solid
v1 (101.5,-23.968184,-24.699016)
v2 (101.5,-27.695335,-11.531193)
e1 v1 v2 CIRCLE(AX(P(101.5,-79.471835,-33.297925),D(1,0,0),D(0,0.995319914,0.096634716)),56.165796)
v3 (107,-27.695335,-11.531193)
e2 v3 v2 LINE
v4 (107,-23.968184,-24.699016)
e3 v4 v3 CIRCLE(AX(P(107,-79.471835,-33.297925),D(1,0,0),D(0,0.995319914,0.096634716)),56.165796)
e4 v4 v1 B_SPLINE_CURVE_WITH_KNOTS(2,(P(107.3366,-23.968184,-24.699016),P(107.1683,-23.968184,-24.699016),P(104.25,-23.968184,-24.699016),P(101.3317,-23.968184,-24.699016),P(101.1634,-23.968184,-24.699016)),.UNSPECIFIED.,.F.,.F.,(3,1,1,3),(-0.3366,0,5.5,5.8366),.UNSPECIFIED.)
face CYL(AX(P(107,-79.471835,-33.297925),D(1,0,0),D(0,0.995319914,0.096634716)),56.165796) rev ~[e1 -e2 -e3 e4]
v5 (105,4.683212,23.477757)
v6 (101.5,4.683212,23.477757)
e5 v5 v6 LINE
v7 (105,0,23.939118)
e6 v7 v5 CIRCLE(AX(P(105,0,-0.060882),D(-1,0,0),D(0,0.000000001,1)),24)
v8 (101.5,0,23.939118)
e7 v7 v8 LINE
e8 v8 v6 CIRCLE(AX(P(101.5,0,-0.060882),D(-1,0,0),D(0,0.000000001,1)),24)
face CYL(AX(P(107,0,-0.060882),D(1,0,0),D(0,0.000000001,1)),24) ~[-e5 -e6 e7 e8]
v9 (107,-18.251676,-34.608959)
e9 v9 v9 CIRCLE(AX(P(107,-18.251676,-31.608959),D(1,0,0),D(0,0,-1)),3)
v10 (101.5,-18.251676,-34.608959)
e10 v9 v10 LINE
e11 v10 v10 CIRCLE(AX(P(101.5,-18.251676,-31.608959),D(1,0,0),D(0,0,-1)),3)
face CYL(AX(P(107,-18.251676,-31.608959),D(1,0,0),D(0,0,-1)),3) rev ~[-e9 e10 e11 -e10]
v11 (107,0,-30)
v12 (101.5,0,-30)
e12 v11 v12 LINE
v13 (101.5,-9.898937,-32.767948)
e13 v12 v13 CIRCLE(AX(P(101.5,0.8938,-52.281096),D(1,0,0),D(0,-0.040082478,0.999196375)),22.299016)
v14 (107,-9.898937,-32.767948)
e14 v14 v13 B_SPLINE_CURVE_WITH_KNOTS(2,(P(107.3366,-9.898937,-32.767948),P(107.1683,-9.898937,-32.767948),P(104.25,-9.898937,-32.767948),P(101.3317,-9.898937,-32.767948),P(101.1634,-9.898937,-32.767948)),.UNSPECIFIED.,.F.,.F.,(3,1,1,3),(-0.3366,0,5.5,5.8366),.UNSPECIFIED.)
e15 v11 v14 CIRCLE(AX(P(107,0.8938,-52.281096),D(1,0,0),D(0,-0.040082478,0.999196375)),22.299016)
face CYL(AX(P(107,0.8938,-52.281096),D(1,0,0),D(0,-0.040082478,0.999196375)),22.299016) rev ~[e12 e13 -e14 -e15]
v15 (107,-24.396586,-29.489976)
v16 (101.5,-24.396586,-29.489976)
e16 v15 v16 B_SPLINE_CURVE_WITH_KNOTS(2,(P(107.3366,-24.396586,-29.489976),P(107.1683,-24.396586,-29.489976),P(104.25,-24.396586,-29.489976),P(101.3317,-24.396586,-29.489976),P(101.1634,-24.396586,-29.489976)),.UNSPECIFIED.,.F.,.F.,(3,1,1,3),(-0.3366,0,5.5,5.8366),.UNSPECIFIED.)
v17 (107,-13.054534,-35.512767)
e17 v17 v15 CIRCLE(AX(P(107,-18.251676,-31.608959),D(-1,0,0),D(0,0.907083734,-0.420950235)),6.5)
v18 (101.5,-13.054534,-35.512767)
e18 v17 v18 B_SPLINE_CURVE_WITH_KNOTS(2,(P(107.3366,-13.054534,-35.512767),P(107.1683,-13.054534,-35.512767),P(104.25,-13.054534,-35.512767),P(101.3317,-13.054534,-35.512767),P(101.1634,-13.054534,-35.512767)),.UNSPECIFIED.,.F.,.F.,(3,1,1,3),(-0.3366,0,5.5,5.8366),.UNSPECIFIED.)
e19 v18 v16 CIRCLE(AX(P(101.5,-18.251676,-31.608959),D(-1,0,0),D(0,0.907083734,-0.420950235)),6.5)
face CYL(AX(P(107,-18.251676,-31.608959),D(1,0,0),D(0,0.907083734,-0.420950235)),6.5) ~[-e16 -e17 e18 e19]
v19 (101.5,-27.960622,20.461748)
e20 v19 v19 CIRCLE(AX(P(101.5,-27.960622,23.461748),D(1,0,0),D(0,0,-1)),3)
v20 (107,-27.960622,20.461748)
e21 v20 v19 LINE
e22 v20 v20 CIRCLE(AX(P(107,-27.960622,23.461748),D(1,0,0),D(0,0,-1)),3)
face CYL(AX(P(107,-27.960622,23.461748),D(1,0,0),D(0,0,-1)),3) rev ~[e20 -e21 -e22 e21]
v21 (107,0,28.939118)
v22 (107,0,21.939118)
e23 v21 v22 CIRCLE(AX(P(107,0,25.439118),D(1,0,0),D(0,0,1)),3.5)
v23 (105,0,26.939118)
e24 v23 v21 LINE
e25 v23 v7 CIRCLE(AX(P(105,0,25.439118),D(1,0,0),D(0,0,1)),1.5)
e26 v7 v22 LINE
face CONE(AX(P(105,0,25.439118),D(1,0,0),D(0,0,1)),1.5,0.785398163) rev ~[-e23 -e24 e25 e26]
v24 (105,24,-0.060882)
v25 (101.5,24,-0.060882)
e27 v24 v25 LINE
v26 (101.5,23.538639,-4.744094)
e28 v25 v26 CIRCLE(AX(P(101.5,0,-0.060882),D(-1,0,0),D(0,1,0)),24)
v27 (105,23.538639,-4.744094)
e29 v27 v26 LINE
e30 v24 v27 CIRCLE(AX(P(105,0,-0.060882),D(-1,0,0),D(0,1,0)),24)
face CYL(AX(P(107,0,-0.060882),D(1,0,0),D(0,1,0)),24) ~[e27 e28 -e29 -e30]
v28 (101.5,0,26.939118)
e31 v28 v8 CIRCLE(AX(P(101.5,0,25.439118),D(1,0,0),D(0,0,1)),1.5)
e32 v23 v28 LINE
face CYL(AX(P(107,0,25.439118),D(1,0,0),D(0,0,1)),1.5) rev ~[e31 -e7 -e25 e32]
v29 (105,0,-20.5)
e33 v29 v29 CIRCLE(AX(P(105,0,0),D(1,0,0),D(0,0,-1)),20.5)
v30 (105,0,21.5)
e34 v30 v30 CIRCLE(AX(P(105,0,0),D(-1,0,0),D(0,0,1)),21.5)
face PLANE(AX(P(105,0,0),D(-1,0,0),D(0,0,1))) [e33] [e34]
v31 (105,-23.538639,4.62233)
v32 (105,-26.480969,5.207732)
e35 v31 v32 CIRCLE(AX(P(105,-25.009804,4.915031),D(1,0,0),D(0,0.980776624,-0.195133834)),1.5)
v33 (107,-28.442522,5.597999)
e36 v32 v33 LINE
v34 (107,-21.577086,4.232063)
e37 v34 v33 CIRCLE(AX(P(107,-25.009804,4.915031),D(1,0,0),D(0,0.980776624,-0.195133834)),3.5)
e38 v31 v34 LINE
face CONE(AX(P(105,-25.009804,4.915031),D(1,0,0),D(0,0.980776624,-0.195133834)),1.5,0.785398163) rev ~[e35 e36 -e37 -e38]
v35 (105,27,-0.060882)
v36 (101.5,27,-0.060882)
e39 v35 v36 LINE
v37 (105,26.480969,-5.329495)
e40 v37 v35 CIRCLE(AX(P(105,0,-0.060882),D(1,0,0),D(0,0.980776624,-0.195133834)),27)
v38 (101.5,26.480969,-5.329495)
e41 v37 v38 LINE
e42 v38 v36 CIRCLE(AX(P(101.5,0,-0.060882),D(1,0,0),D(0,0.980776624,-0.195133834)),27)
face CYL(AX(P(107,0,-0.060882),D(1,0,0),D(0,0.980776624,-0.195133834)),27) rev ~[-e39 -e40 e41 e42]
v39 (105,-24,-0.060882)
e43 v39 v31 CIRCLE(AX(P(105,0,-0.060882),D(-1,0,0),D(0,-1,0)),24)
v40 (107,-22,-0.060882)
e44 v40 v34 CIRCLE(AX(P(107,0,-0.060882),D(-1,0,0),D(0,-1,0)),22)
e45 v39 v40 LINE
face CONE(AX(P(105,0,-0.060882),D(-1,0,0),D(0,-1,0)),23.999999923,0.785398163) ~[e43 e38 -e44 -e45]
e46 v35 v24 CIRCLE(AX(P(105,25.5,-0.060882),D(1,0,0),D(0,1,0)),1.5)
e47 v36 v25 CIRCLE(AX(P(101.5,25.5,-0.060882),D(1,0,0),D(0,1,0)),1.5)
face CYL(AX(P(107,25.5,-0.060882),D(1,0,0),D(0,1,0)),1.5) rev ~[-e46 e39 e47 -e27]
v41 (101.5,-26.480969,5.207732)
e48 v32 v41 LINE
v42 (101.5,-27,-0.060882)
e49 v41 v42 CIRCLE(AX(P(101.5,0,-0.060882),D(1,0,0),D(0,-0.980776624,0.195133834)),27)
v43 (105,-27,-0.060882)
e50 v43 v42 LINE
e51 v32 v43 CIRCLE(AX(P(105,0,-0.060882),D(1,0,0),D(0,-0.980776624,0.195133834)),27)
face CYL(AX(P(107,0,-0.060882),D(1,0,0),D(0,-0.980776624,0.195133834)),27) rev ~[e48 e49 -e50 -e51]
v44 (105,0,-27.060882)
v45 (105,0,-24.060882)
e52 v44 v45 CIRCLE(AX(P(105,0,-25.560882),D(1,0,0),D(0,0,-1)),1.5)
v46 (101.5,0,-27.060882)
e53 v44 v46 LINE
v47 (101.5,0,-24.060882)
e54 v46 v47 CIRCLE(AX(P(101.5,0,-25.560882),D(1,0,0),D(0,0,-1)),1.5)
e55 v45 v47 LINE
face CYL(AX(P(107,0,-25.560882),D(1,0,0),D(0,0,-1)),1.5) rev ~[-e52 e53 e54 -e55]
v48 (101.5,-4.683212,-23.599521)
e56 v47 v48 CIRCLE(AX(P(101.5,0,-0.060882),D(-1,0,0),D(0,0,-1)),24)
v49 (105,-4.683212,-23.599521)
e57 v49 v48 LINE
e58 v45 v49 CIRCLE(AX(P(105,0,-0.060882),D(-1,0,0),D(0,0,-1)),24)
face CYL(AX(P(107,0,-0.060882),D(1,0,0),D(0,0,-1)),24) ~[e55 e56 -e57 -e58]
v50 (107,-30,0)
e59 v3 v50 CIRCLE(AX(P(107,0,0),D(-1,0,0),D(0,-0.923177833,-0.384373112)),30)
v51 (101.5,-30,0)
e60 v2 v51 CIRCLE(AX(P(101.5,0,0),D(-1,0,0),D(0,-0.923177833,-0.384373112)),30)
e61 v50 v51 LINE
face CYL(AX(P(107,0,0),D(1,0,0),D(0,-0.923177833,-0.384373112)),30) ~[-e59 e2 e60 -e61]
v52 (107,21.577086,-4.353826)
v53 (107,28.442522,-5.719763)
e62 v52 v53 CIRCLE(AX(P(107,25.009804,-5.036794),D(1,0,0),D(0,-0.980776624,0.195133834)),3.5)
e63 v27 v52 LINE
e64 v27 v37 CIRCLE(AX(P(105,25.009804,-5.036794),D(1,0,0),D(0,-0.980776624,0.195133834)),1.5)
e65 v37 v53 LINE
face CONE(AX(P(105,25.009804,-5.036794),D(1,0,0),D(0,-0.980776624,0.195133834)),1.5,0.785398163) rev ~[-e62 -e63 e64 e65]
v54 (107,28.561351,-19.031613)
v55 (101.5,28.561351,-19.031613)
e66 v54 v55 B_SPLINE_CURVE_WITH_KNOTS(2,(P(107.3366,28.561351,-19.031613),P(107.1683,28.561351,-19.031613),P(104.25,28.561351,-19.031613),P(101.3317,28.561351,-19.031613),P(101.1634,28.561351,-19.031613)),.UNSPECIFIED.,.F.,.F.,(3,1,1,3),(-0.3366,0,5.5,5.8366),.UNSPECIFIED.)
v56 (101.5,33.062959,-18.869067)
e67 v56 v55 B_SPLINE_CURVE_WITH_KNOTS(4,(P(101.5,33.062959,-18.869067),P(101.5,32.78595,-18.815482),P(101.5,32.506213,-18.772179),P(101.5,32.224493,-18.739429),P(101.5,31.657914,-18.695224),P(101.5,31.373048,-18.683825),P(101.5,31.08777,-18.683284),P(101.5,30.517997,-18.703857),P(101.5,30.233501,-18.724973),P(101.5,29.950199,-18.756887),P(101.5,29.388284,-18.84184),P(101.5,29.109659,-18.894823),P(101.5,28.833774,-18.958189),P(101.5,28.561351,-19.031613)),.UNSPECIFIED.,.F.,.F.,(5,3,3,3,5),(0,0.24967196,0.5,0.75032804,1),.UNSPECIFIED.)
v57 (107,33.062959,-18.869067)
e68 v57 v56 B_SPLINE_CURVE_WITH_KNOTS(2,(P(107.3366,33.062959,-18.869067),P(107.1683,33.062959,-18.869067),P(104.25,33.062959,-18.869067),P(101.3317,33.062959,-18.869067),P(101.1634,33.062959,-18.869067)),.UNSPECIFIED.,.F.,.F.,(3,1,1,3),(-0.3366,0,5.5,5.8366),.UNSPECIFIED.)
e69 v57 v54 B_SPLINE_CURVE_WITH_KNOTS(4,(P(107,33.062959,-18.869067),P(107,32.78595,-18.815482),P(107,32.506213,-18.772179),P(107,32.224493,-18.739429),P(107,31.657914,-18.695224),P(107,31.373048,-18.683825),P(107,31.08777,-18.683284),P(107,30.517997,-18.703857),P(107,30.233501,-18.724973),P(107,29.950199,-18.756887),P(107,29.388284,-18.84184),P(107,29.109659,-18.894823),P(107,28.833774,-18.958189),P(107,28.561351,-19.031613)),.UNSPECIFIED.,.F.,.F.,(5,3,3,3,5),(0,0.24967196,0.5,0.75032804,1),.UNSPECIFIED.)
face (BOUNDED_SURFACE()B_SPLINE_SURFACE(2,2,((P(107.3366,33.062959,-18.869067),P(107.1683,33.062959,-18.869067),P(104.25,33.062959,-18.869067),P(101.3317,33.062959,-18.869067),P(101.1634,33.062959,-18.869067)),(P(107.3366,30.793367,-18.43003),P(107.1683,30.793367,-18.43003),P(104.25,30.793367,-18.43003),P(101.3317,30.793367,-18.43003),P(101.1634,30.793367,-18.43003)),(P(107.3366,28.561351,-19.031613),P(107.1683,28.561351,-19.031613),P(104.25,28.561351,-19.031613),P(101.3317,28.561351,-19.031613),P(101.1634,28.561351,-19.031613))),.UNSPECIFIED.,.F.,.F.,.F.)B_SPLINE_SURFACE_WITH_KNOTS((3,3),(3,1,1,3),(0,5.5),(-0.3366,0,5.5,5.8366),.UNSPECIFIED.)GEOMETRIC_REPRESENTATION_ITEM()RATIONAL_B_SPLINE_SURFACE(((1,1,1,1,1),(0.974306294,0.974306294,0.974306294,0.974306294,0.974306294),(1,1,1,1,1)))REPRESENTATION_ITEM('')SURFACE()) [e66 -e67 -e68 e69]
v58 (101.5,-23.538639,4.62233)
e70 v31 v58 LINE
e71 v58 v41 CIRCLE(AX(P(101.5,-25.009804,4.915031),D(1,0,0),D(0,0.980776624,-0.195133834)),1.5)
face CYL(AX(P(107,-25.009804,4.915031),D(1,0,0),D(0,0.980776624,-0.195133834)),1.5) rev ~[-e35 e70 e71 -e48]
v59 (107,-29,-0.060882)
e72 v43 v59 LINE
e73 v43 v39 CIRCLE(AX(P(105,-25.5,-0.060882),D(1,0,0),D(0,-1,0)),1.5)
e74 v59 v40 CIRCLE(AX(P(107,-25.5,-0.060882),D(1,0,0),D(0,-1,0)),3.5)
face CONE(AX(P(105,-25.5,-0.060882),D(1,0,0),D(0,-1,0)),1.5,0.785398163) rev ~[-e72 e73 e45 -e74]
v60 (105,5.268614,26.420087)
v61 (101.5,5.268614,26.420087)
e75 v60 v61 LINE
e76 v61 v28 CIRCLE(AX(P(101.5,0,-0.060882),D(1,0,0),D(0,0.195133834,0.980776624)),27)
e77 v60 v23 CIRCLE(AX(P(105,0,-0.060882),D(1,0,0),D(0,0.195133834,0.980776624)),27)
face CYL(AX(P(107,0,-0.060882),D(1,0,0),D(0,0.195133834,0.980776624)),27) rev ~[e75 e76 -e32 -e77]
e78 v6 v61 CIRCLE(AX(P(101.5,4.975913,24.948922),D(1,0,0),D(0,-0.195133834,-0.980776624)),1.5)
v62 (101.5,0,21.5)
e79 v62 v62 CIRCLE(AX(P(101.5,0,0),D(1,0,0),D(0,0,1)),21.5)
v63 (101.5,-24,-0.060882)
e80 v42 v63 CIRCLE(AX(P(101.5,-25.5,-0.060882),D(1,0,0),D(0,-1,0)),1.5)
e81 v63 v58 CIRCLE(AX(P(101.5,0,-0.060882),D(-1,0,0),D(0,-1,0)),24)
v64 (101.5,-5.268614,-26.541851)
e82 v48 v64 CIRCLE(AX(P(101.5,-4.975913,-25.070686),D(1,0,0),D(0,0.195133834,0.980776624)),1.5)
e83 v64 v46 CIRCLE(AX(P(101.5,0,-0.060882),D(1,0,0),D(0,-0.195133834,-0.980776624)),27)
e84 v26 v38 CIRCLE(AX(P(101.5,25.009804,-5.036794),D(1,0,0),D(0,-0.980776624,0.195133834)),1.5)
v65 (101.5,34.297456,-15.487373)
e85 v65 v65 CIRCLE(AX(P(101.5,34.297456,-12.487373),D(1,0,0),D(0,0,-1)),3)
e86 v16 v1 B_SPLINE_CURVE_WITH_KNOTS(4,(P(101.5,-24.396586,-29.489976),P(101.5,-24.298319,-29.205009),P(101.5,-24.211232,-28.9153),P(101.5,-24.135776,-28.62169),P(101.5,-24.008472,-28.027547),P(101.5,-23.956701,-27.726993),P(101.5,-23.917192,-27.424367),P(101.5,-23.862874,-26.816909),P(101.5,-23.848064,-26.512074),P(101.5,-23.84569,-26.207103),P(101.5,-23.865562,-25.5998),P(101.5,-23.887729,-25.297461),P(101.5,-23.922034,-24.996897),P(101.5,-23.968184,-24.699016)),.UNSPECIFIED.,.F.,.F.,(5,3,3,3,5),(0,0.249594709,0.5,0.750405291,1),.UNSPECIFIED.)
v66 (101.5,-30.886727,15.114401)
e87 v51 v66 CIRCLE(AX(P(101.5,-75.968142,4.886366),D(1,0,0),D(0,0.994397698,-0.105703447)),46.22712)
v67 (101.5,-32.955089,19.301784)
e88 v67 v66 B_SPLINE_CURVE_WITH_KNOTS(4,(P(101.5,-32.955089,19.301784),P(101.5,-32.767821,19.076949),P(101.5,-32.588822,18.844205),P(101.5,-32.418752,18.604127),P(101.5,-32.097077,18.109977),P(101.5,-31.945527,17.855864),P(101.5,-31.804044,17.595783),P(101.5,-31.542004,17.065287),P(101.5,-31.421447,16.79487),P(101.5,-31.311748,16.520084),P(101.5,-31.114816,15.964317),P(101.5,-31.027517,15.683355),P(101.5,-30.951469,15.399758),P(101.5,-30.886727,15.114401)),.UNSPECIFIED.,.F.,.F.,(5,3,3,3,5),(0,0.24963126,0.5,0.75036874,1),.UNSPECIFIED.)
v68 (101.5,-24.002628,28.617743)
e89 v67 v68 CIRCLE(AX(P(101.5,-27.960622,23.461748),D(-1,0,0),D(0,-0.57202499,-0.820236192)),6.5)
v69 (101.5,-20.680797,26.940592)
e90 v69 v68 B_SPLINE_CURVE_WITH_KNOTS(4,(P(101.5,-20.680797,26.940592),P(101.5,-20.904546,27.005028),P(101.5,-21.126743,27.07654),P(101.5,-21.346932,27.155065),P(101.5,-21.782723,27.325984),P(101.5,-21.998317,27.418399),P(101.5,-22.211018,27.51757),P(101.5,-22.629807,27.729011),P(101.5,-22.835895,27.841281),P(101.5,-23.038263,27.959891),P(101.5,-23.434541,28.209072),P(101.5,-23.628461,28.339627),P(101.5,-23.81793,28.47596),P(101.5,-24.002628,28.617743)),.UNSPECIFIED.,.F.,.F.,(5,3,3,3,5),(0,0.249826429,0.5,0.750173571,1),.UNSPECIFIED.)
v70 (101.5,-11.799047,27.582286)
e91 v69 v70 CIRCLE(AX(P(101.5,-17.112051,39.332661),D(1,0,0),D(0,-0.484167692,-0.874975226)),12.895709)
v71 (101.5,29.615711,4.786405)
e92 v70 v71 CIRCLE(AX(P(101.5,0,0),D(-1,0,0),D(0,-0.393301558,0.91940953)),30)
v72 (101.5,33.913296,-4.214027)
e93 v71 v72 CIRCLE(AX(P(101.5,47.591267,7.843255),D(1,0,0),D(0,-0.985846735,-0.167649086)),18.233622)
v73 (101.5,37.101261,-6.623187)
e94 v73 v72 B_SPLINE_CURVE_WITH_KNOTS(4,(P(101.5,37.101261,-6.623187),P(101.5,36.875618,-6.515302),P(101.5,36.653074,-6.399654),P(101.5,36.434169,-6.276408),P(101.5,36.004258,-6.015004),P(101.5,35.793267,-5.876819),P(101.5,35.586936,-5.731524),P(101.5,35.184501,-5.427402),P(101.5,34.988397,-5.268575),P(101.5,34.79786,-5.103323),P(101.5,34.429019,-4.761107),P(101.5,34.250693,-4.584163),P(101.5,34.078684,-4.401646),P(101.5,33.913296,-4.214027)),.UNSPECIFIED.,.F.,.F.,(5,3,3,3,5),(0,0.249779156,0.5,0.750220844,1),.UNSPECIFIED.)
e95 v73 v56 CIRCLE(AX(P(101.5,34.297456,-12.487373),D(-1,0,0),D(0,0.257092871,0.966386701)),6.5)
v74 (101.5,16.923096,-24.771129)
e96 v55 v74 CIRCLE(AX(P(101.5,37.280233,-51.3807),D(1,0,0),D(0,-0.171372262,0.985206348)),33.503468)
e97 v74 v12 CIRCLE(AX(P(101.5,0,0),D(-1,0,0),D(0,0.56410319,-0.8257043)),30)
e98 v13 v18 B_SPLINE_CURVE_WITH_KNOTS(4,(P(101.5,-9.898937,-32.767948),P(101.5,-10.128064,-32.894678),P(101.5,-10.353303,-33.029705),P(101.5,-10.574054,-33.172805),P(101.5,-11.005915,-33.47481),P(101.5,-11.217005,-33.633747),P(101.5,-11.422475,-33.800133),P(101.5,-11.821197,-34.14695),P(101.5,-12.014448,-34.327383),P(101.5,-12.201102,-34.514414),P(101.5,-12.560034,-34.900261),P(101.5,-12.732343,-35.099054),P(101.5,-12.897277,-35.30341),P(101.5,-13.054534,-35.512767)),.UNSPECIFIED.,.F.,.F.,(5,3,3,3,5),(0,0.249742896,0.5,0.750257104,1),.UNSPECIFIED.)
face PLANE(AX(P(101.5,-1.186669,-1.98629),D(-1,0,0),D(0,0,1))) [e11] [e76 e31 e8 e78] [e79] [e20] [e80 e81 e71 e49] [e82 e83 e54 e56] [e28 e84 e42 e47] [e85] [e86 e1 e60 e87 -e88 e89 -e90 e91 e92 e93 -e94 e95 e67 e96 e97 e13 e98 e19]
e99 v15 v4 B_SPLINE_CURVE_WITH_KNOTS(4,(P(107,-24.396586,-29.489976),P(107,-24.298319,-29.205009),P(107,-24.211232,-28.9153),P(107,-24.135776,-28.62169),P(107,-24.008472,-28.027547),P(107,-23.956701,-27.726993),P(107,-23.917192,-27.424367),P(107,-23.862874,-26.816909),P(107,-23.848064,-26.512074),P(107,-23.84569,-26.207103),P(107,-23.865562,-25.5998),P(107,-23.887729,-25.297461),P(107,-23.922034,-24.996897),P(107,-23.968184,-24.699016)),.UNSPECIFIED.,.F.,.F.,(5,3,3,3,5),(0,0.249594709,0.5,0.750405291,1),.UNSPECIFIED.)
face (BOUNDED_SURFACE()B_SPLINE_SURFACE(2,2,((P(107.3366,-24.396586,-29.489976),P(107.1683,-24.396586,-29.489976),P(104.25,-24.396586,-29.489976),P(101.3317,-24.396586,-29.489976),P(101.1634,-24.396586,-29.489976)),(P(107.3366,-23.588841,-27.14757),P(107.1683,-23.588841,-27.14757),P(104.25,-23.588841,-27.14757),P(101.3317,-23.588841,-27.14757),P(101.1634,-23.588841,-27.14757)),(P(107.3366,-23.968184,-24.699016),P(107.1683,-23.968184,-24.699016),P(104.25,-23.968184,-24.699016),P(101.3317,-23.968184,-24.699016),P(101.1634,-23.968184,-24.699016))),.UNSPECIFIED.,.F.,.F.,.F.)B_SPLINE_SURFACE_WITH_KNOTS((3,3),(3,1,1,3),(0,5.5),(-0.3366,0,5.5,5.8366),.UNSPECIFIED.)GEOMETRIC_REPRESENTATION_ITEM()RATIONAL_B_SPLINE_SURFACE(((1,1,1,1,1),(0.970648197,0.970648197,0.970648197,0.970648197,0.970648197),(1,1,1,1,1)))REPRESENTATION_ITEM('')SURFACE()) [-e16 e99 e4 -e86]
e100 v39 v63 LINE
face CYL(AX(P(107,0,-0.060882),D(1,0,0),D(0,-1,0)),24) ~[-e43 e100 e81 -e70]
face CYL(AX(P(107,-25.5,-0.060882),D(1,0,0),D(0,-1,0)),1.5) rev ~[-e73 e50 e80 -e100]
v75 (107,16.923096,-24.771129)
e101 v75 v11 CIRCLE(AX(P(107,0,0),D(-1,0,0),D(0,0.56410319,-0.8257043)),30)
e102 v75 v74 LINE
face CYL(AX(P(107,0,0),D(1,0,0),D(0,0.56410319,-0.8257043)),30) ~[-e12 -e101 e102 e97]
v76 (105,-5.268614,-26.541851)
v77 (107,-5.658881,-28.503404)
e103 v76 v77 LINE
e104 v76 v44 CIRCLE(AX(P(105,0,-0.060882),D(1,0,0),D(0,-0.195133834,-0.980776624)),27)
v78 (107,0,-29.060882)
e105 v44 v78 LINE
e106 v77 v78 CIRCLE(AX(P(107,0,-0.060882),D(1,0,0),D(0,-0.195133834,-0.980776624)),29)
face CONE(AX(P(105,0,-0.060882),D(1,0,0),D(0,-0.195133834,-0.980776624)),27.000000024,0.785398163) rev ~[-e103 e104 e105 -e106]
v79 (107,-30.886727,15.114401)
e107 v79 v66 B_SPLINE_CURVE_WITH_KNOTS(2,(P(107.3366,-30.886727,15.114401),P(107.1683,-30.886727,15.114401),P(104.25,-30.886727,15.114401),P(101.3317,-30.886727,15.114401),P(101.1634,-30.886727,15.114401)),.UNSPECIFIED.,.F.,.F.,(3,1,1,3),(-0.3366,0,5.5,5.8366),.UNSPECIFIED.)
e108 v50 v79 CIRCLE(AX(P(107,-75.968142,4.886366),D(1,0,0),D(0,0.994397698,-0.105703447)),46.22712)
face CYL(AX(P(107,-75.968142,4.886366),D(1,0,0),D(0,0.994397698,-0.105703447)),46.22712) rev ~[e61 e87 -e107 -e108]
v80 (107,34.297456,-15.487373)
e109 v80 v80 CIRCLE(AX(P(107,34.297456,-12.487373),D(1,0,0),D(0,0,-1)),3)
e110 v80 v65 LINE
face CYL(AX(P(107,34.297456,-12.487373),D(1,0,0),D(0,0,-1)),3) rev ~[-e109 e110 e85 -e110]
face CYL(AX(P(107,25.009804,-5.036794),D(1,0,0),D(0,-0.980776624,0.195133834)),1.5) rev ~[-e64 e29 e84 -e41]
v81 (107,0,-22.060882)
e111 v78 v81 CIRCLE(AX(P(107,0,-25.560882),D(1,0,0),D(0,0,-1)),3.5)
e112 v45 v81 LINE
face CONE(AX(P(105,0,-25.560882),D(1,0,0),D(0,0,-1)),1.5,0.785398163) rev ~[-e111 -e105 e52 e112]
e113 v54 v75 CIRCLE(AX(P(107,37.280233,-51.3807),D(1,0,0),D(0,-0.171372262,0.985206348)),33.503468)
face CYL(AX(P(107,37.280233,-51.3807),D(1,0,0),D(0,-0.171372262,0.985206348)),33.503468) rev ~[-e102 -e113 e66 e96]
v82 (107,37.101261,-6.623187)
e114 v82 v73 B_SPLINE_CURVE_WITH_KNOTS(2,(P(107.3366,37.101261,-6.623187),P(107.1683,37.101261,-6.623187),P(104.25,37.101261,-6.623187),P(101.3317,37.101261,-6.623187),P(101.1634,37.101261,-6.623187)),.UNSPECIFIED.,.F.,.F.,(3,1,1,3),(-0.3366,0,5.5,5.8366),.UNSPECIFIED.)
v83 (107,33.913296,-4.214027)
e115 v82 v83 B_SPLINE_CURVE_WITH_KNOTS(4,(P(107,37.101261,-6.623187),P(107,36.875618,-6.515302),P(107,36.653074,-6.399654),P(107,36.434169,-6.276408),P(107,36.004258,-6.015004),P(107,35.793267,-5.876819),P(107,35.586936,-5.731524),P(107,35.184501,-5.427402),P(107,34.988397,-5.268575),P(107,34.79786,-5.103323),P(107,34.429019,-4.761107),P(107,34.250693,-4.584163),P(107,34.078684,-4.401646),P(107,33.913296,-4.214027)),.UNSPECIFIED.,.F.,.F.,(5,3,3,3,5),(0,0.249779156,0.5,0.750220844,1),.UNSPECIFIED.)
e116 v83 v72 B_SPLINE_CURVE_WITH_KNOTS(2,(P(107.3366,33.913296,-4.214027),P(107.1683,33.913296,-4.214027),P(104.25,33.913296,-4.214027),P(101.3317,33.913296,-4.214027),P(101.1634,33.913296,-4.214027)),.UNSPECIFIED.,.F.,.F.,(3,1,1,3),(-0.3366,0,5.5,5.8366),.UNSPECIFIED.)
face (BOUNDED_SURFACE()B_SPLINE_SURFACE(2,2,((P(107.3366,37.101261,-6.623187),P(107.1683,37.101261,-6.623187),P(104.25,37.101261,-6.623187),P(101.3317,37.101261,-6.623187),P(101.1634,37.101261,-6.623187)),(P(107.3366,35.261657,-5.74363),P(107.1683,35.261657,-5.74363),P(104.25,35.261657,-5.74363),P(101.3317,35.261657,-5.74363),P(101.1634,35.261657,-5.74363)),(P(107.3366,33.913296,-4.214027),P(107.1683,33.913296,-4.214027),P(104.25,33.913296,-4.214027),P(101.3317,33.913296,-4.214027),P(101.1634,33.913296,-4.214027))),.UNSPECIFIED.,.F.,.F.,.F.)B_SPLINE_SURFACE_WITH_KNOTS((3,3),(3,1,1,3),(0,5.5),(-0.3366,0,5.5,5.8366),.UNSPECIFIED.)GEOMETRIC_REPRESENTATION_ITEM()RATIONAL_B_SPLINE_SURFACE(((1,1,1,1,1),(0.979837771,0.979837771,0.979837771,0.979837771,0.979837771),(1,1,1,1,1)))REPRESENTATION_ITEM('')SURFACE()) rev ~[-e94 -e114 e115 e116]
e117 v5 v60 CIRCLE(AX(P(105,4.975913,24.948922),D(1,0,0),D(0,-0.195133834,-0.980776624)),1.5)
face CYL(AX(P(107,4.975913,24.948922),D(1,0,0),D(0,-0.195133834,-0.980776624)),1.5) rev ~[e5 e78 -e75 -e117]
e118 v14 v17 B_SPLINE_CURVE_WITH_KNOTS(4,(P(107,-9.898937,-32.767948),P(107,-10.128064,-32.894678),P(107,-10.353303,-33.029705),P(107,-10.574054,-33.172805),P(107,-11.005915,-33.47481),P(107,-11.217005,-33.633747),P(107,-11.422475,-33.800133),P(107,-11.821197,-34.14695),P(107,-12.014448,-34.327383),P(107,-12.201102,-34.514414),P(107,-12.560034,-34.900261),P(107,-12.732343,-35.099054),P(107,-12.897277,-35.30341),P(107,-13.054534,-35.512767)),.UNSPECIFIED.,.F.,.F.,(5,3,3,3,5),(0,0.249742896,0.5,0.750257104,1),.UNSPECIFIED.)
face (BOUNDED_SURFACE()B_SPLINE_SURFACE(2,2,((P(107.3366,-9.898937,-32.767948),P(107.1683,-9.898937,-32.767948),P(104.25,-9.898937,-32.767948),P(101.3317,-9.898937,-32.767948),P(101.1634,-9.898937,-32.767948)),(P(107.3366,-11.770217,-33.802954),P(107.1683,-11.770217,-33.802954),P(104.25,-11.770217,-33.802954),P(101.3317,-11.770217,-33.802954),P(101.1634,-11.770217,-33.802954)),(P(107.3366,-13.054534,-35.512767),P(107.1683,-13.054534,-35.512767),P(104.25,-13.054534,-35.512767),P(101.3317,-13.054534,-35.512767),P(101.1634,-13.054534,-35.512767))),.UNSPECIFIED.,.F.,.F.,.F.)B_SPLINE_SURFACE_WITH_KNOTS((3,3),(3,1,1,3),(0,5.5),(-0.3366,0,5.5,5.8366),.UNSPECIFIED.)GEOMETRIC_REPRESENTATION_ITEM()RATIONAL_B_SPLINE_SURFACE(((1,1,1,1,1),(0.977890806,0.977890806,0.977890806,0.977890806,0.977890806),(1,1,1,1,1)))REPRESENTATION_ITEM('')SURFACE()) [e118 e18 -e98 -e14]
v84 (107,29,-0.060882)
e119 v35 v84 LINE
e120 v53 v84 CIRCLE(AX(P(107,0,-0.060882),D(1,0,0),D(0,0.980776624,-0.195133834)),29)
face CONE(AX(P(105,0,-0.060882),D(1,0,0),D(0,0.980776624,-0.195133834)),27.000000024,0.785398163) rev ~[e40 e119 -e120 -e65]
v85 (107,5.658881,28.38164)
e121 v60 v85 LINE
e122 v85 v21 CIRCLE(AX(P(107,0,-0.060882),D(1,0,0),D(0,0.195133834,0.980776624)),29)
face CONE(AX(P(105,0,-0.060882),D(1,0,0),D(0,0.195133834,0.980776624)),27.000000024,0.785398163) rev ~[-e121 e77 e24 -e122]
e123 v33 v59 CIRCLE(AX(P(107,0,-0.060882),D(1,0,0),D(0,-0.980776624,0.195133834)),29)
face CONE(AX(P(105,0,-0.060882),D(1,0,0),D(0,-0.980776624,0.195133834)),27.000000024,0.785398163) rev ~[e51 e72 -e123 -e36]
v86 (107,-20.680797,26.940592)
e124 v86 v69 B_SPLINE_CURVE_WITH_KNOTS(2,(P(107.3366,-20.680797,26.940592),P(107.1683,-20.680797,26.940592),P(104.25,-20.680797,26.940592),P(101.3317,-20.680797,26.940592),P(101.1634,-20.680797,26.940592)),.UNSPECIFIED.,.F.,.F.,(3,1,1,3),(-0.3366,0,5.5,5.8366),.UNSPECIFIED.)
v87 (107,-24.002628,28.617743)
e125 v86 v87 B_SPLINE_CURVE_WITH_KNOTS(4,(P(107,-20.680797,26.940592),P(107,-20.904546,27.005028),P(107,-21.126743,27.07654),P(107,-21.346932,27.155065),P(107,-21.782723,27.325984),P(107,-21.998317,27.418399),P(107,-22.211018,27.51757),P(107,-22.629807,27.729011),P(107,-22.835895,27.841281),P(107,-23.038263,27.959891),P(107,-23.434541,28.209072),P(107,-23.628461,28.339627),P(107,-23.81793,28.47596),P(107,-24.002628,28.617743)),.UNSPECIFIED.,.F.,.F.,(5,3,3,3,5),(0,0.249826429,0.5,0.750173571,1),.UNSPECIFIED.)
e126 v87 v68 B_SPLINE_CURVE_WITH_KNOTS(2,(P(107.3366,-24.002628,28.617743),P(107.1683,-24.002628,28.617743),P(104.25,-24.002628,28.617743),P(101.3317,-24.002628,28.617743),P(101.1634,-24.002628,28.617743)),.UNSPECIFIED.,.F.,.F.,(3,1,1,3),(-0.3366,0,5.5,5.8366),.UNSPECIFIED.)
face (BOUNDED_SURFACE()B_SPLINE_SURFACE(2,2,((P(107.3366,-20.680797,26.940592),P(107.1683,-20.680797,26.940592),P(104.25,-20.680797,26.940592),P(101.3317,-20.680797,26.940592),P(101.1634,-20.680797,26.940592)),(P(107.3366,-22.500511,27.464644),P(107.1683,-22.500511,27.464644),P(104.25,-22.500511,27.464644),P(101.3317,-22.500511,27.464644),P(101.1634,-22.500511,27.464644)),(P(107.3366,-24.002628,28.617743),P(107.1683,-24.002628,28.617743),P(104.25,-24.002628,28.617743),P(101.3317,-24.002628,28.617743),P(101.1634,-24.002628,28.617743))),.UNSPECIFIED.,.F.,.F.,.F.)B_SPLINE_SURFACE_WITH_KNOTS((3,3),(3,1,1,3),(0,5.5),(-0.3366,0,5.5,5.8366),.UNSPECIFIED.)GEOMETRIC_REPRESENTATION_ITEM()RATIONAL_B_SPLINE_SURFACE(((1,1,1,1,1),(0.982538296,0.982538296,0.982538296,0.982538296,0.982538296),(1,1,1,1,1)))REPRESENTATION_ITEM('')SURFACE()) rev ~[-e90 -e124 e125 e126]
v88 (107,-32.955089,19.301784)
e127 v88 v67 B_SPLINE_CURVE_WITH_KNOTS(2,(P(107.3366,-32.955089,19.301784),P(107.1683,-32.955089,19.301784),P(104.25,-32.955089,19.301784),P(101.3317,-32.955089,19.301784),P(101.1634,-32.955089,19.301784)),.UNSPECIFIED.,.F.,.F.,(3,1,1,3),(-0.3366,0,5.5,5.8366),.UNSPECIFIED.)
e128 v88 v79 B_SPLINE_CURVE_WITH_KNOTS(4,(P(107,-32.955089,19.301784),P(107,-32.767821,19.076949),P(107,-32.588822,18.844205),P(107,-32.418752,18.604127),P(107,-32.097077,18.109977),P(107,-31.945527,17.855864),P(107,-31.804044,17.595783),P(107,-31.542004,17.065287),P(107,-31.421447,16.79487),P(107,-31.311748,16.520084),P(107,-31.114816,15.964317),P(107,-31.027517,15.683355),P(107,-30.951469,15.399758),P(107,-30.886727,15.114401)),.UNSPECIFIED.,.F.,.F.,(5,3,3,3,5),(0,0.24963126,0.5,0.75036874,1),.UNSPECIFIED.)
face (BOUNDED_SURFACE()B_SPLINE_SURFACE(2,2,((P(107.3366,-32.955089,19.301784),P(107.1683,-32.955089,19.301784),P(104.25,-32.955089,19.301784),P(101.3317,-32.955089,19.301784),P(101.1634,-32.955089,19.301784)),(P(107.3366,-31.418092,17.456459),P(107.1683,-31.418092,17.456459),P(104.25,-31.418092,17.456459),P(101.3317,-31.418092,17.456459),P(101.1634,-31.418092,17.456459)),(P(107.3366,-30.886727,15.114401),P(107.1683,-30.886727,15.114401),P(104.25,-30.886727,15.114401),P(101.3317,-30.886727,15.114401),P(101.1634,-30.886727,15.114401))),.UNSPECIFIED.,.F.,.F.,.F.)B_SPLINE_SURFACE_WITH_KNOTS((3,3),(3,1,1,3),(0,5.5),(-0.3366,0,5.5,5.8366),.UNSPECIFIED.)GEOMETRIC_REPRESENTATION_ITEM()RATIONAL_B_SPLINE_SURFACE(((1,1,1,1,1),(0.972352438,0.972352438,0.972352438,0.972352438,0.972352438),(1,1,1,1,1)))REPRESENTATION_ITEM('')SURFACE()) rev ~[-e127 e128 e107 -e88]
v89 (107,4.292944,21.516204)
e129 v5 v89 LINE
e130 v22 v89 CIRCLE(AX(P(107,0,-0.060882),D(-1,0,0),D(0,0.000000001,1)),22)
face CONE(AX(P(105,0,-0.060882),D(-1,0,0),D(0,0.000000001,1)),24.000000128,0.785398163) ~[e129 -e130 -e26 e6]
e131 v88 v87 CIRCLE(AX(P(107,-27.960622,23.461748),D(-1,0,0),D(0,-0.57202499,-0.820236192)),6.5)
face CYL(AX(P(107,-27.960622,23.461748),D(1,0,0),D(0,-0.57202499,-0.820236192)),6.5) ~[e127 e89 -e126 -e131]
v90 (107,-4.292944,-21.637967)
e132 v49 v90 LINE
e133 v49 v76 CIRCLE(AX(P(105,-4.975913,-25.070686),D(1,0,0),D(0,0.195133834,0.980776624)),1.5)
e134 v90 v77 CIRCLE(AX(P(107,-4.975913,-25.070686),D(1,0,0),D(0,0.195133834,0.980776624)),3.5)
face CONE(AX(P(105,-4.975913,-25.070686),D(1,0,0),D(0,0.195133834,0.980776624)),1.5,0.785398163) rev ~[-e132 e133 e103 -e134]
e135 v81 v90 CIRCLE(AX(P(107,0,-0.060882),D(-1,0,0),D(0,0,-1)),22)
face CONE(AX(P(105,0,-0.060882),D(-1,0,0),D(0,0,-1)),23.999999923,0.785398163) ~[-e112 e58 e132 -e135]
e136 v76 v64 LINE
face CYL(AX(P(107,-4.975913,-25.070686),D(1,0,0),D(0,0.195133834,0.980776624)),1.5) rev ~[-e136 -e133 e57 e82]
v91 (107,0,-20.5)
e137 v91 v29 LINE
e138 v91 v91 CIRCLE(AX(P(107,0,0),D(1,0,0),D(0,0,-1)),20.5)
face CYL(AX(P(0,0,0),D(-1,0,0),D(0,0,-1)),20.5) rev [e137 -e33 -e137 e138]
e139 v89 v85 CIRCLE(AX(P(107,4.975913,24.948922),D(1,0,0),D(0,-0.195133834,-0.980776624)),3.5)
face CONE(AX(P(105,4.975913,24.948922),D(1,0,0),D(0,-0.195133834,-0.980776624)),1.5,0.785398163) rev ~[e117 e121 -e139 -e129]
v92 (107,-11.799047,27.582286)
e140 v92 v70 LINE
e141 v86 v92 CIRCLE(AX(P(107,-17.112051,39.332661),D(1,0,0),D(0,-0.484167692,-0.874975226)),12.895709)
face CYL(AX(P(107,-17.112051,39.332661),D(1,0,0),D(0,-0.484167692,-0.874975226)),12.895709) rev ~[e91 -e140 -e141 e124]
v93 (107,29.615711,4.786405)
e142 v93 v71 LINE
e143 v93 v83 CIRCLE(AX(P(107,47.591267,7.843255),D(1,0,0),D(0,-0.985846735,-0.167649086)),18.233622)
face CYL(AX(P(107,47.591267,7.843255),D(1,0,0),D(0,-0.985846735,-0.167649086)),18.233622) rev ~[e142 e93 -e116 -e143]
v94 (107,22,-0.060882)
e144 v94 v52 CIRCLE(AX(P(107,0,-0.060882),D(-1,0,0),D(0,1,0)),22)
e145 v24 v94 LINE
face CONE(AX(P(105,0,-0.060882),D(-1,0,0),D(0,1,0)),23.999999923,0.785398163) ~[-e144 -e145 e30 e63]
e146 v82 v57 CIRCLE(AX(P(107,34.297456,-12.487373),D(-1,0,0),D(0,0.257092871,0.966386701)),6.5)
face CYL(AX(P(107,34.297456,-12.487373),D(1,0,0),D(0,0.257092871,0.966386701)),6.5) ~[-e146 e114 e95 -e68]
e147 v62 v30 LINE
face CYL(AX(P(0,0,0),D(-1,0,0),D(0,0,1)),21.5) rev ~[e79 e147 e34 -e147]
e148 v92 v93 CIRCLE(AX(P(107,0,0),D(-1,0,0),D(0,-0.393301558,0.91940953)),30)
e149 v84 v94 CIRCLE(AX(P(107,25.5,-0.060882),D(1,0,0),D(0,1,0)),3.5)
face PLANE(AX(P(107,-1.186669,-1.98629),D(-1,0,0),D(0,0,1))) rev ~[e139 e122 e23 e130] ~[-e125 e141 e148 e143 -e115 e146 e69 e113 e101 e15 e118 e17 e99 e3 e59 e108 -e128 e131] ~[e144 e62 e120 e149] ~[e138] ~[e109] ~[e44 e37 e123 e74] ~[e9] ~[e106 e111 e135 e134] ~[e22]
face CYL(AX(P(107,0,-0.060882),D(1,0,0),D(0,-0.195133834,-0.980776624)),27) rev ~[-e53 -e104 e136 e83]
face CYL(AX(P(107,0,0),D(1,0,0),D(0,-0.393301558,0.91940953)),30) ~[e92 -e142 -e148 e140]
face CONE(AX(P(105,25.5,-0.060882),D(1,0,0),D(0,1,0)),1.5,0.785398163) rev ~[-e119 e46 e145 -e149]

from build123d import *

# Parameters (mm, degrees)
ESQUISSE1_R             = 21.5
ESQUISSE1_R_2           = 20.5
BOSS_EXTRU_1_DEPTH      = 107
ESQUISSE2_R             = 20.5
ESQUISSE2_R_2           = 3
BOSS_EXTRU_2_DEPTH      = 5.5
CHANFREIN1_SIZE         = 2
CONG_1_R                = 10
ESQUISSE4_R             = 21.5
ESQUISSE4_R_2           = 20.5
ENL_V_MAT_EXTRU_2_DEPTH = 105


with BuildPart() as part:
    # Esquisse1 → Boss.-Extru.1 (new body)
    with BuildSketch(Plane(origin=(0, 0, 0), x_dir=(0, 0, -1), z_dir=(1, 0, 0))):
        Circle(ESQUISSE1_R)
        Circle(ESQUISSE1_R_2, mode=Mode.SUBTRACT)
    extrude(amount=BOSS_EXTRU_1_DEPTH)

    # Esquisse2 → Boss.-Extru.2 (add)
    with BuildSketch(Plane(origin=(107, 0, 0), x_dir=(0, 0, -1), z_dir=(1, 0, 0))):
        with BuildLine():
            ThreePointArc((6.205859778, 35.968559944), (14.711152146, 40.405222466), (18.372871483, 31.538668226))
            ThreePointArc((18.372871483, 31.538668226), (20.689295332, 23.844460332), (24.771129004, 16.923095695))
            ThreePointArc((24.771129004, 16.923095695), (28.662988941, 8.856244404), (30, 0))
            ThreePointArc((30, 0), (31.244976727, -6.50402438), (34.345135803, -12.355632184))
            ThreePointArc((34.345135803, -12.355632184), (37.237952026, -21.501974999), (27.870359387, -23.568900433))
            ThreePointArc((27.870359387, -23.568900433), (19.545131967, -25.015822985), (11.531193363, -27.69533498))
            ThreePointArc((11.531193363, -27.69533498), (5.879623738, -29.41819207), (0, -30))
            ThreePointArc((0, -30), (-9.148577813, -29.937932347), (-18.130212507, -31.678784611))
            ThreePointArc((-18.130212507, -31.678784611), (-27.639867217, -32.939911054), (-28.049234329, -23.355737059))
            ThreePointArc((-28.049234329, -23.355737059), (-26.447464851, -17.632677908), (-27.582285912, -11.799046736))
            ThreePointArc((-27.582285912, -11.799046736), (-26.28171566, 14.466216574), (-4.786405344, 29.615710761))
            ThreePointArc((-4.786405344, 29.615710761), (1.280514923, 31.804507658), (6.205859778, 35.968559944))
        make_face()
        Circle(ESQUISSE2_R, mode=Mode.SUBTRACT)
        with Locations((-23.461747754, -27.960622174)):
            Circle(ESQUISSE2_R_2, mode=Mode.SUBTRACT)
        with Locations((31.608959278, -18.251676453)):
            Circle(ESQUISSE2_R_2, mode=Mode.SUBTRACT)
        with Locations((12.487373333, 34.29745628)):
            Circle(ESQUISSE2_R_2, mode=Mode.SUBTRACT)
        with BuildLine():
            ThreePointArc((-26.420087149, 5.268613512), (-26.8090472, 2.647058824), (-26.939118291, 0))
            ThreePointArc((-26.939118291, 0), (-25.439118291, -1.5), (-23.939118291, 0))
            ThreePointArc((-23.939118291, 0), (-23.823499543, 2.352941176), (-23.477757276, 4.68321201))
            ThreePointArc((-23.477757276, 4.68321201), (-24.656221462, 6.447077698), (-26.420087149, 5.268613512))
        make_face(mode=Mode.SUBTRACT)
        with BuildLine():
            ThreePointArc((5.329495221, 26.480968858), (2.707940533, 26.869928909), (0.060881709, 27))
            ThreePointArc((0.060881709, 27), (-1.439118291, 25.5), (0.060881709, 24))
            ThreePointArc((0.060881709, 24), (2.413822886, 23.884381253), (4.74409372, 23.538638985))
            ThreePointArc((4.74409372, 23.538638985), (6.507959407, 24.717103171), (5.329495221, 26.480968858))
        make_face(mode=Mode.SUBTRACT)
        with BuildLine():
            ThreePointArc((26.541850567, -5.268613512), (26.930810618, -2.647058824), (27.060881709, 0))
            ThreePointArc((27.060881709, 0), (25.560881709, 1.5), (24.060881709, 0))
            ThreePointArc((24.060881709, 0), (23.945262962, -2.352941176), (23.599520694, -4.68321201))
            ThreePointArc((23.599520694, -4.68321201), (24.77798488, -6.447077698), (26.541850567, -5.268613512))
        make_face(mode=Mode.SUBTRACT)
        with BuildLine():
            ThreePointArc((-5.207731802, -26.480968858), (-2.586177114, -26.869928909), (0.060881709, -27))
            ThreePointArc((0.060881709, -27), (1.560881709, -25.5), (0.060881709, -24))
            ThreePointArc((0.060881709, -24), (-2.292059467, -23.884381253), (-4.622330301, -23.538638985))
            ThreePointArc((-4.622330301, -23.538638985), (-6.386195988, -24.717103171), (-5.207731802, -26.480968858))
        make_face(mode=Mode.SUBTRACT)
    extrude(amount=-BOSS_EXTRU_2_DEPTH)

    # Chanfrein1
    chanfrein1_edges = [part.edges().sort_by_distance(p)[0] for p in [
        (107, 6.447077698, 24.656221462),
        (107, 2.352941176, 23.823499543),
        (107, -1.5, 25.439118291),
        (107, 2.647058824, 26.8090472),
        (107, 24.717103171, -6.507959407),
        (107, 23.884381253, -2.413822886),
        (107, 25.5, 1.439118291),
        (107, 26.869928909, -2.707940533),
        (107, -6.447077698, -24.77798488),
        (107, -2.352941176, -23.945262962),
        (107, 1.5, -25.560881709),
        (107, -2.647058824, -26.930810618),
        (107, -24.717103171, 6.386195988),
        (107, -23.884381253, 2.292059467),
        (107, -25.5, -1.560881709),
        (107, -26.869928909, 2.586177114),
    ]]
    chamfer(chanfrein1_edges, length=CHANFREIN1_SIZE)

    # Congé1
    cong_1_edges = [part.edges().sort_by_distance(p)[0] for p in [
        (104.25, 35.968559944, -6.205859778),
        (104.25, 31.538668226, -18.372871483),
        (104.25, -12.355632184, -34.345135803),
        (104.25, -23.568900433, -27.870359387),
        (104.25, -31.678784611, 18.130212507),
        (104.25, -23.355737059, 28.049234329),
    ]]
    fillet(cong_1_edges, radius=CONG_1_R)

    # Esquisse4 → Enlèv. mat.-Extru.2 (cut)
    with BuildSketch(Plane.ZY):
        Circle(ESQUISSE4_R)
        Circle(ESQUISSE4_R_2, mode=Mode.SUBTRACT)
    extrude(amount=-ENL_V_MAT_EXTRU_2_DEPTH, mode=Mode.SUBTRACT)


solid = part.part
